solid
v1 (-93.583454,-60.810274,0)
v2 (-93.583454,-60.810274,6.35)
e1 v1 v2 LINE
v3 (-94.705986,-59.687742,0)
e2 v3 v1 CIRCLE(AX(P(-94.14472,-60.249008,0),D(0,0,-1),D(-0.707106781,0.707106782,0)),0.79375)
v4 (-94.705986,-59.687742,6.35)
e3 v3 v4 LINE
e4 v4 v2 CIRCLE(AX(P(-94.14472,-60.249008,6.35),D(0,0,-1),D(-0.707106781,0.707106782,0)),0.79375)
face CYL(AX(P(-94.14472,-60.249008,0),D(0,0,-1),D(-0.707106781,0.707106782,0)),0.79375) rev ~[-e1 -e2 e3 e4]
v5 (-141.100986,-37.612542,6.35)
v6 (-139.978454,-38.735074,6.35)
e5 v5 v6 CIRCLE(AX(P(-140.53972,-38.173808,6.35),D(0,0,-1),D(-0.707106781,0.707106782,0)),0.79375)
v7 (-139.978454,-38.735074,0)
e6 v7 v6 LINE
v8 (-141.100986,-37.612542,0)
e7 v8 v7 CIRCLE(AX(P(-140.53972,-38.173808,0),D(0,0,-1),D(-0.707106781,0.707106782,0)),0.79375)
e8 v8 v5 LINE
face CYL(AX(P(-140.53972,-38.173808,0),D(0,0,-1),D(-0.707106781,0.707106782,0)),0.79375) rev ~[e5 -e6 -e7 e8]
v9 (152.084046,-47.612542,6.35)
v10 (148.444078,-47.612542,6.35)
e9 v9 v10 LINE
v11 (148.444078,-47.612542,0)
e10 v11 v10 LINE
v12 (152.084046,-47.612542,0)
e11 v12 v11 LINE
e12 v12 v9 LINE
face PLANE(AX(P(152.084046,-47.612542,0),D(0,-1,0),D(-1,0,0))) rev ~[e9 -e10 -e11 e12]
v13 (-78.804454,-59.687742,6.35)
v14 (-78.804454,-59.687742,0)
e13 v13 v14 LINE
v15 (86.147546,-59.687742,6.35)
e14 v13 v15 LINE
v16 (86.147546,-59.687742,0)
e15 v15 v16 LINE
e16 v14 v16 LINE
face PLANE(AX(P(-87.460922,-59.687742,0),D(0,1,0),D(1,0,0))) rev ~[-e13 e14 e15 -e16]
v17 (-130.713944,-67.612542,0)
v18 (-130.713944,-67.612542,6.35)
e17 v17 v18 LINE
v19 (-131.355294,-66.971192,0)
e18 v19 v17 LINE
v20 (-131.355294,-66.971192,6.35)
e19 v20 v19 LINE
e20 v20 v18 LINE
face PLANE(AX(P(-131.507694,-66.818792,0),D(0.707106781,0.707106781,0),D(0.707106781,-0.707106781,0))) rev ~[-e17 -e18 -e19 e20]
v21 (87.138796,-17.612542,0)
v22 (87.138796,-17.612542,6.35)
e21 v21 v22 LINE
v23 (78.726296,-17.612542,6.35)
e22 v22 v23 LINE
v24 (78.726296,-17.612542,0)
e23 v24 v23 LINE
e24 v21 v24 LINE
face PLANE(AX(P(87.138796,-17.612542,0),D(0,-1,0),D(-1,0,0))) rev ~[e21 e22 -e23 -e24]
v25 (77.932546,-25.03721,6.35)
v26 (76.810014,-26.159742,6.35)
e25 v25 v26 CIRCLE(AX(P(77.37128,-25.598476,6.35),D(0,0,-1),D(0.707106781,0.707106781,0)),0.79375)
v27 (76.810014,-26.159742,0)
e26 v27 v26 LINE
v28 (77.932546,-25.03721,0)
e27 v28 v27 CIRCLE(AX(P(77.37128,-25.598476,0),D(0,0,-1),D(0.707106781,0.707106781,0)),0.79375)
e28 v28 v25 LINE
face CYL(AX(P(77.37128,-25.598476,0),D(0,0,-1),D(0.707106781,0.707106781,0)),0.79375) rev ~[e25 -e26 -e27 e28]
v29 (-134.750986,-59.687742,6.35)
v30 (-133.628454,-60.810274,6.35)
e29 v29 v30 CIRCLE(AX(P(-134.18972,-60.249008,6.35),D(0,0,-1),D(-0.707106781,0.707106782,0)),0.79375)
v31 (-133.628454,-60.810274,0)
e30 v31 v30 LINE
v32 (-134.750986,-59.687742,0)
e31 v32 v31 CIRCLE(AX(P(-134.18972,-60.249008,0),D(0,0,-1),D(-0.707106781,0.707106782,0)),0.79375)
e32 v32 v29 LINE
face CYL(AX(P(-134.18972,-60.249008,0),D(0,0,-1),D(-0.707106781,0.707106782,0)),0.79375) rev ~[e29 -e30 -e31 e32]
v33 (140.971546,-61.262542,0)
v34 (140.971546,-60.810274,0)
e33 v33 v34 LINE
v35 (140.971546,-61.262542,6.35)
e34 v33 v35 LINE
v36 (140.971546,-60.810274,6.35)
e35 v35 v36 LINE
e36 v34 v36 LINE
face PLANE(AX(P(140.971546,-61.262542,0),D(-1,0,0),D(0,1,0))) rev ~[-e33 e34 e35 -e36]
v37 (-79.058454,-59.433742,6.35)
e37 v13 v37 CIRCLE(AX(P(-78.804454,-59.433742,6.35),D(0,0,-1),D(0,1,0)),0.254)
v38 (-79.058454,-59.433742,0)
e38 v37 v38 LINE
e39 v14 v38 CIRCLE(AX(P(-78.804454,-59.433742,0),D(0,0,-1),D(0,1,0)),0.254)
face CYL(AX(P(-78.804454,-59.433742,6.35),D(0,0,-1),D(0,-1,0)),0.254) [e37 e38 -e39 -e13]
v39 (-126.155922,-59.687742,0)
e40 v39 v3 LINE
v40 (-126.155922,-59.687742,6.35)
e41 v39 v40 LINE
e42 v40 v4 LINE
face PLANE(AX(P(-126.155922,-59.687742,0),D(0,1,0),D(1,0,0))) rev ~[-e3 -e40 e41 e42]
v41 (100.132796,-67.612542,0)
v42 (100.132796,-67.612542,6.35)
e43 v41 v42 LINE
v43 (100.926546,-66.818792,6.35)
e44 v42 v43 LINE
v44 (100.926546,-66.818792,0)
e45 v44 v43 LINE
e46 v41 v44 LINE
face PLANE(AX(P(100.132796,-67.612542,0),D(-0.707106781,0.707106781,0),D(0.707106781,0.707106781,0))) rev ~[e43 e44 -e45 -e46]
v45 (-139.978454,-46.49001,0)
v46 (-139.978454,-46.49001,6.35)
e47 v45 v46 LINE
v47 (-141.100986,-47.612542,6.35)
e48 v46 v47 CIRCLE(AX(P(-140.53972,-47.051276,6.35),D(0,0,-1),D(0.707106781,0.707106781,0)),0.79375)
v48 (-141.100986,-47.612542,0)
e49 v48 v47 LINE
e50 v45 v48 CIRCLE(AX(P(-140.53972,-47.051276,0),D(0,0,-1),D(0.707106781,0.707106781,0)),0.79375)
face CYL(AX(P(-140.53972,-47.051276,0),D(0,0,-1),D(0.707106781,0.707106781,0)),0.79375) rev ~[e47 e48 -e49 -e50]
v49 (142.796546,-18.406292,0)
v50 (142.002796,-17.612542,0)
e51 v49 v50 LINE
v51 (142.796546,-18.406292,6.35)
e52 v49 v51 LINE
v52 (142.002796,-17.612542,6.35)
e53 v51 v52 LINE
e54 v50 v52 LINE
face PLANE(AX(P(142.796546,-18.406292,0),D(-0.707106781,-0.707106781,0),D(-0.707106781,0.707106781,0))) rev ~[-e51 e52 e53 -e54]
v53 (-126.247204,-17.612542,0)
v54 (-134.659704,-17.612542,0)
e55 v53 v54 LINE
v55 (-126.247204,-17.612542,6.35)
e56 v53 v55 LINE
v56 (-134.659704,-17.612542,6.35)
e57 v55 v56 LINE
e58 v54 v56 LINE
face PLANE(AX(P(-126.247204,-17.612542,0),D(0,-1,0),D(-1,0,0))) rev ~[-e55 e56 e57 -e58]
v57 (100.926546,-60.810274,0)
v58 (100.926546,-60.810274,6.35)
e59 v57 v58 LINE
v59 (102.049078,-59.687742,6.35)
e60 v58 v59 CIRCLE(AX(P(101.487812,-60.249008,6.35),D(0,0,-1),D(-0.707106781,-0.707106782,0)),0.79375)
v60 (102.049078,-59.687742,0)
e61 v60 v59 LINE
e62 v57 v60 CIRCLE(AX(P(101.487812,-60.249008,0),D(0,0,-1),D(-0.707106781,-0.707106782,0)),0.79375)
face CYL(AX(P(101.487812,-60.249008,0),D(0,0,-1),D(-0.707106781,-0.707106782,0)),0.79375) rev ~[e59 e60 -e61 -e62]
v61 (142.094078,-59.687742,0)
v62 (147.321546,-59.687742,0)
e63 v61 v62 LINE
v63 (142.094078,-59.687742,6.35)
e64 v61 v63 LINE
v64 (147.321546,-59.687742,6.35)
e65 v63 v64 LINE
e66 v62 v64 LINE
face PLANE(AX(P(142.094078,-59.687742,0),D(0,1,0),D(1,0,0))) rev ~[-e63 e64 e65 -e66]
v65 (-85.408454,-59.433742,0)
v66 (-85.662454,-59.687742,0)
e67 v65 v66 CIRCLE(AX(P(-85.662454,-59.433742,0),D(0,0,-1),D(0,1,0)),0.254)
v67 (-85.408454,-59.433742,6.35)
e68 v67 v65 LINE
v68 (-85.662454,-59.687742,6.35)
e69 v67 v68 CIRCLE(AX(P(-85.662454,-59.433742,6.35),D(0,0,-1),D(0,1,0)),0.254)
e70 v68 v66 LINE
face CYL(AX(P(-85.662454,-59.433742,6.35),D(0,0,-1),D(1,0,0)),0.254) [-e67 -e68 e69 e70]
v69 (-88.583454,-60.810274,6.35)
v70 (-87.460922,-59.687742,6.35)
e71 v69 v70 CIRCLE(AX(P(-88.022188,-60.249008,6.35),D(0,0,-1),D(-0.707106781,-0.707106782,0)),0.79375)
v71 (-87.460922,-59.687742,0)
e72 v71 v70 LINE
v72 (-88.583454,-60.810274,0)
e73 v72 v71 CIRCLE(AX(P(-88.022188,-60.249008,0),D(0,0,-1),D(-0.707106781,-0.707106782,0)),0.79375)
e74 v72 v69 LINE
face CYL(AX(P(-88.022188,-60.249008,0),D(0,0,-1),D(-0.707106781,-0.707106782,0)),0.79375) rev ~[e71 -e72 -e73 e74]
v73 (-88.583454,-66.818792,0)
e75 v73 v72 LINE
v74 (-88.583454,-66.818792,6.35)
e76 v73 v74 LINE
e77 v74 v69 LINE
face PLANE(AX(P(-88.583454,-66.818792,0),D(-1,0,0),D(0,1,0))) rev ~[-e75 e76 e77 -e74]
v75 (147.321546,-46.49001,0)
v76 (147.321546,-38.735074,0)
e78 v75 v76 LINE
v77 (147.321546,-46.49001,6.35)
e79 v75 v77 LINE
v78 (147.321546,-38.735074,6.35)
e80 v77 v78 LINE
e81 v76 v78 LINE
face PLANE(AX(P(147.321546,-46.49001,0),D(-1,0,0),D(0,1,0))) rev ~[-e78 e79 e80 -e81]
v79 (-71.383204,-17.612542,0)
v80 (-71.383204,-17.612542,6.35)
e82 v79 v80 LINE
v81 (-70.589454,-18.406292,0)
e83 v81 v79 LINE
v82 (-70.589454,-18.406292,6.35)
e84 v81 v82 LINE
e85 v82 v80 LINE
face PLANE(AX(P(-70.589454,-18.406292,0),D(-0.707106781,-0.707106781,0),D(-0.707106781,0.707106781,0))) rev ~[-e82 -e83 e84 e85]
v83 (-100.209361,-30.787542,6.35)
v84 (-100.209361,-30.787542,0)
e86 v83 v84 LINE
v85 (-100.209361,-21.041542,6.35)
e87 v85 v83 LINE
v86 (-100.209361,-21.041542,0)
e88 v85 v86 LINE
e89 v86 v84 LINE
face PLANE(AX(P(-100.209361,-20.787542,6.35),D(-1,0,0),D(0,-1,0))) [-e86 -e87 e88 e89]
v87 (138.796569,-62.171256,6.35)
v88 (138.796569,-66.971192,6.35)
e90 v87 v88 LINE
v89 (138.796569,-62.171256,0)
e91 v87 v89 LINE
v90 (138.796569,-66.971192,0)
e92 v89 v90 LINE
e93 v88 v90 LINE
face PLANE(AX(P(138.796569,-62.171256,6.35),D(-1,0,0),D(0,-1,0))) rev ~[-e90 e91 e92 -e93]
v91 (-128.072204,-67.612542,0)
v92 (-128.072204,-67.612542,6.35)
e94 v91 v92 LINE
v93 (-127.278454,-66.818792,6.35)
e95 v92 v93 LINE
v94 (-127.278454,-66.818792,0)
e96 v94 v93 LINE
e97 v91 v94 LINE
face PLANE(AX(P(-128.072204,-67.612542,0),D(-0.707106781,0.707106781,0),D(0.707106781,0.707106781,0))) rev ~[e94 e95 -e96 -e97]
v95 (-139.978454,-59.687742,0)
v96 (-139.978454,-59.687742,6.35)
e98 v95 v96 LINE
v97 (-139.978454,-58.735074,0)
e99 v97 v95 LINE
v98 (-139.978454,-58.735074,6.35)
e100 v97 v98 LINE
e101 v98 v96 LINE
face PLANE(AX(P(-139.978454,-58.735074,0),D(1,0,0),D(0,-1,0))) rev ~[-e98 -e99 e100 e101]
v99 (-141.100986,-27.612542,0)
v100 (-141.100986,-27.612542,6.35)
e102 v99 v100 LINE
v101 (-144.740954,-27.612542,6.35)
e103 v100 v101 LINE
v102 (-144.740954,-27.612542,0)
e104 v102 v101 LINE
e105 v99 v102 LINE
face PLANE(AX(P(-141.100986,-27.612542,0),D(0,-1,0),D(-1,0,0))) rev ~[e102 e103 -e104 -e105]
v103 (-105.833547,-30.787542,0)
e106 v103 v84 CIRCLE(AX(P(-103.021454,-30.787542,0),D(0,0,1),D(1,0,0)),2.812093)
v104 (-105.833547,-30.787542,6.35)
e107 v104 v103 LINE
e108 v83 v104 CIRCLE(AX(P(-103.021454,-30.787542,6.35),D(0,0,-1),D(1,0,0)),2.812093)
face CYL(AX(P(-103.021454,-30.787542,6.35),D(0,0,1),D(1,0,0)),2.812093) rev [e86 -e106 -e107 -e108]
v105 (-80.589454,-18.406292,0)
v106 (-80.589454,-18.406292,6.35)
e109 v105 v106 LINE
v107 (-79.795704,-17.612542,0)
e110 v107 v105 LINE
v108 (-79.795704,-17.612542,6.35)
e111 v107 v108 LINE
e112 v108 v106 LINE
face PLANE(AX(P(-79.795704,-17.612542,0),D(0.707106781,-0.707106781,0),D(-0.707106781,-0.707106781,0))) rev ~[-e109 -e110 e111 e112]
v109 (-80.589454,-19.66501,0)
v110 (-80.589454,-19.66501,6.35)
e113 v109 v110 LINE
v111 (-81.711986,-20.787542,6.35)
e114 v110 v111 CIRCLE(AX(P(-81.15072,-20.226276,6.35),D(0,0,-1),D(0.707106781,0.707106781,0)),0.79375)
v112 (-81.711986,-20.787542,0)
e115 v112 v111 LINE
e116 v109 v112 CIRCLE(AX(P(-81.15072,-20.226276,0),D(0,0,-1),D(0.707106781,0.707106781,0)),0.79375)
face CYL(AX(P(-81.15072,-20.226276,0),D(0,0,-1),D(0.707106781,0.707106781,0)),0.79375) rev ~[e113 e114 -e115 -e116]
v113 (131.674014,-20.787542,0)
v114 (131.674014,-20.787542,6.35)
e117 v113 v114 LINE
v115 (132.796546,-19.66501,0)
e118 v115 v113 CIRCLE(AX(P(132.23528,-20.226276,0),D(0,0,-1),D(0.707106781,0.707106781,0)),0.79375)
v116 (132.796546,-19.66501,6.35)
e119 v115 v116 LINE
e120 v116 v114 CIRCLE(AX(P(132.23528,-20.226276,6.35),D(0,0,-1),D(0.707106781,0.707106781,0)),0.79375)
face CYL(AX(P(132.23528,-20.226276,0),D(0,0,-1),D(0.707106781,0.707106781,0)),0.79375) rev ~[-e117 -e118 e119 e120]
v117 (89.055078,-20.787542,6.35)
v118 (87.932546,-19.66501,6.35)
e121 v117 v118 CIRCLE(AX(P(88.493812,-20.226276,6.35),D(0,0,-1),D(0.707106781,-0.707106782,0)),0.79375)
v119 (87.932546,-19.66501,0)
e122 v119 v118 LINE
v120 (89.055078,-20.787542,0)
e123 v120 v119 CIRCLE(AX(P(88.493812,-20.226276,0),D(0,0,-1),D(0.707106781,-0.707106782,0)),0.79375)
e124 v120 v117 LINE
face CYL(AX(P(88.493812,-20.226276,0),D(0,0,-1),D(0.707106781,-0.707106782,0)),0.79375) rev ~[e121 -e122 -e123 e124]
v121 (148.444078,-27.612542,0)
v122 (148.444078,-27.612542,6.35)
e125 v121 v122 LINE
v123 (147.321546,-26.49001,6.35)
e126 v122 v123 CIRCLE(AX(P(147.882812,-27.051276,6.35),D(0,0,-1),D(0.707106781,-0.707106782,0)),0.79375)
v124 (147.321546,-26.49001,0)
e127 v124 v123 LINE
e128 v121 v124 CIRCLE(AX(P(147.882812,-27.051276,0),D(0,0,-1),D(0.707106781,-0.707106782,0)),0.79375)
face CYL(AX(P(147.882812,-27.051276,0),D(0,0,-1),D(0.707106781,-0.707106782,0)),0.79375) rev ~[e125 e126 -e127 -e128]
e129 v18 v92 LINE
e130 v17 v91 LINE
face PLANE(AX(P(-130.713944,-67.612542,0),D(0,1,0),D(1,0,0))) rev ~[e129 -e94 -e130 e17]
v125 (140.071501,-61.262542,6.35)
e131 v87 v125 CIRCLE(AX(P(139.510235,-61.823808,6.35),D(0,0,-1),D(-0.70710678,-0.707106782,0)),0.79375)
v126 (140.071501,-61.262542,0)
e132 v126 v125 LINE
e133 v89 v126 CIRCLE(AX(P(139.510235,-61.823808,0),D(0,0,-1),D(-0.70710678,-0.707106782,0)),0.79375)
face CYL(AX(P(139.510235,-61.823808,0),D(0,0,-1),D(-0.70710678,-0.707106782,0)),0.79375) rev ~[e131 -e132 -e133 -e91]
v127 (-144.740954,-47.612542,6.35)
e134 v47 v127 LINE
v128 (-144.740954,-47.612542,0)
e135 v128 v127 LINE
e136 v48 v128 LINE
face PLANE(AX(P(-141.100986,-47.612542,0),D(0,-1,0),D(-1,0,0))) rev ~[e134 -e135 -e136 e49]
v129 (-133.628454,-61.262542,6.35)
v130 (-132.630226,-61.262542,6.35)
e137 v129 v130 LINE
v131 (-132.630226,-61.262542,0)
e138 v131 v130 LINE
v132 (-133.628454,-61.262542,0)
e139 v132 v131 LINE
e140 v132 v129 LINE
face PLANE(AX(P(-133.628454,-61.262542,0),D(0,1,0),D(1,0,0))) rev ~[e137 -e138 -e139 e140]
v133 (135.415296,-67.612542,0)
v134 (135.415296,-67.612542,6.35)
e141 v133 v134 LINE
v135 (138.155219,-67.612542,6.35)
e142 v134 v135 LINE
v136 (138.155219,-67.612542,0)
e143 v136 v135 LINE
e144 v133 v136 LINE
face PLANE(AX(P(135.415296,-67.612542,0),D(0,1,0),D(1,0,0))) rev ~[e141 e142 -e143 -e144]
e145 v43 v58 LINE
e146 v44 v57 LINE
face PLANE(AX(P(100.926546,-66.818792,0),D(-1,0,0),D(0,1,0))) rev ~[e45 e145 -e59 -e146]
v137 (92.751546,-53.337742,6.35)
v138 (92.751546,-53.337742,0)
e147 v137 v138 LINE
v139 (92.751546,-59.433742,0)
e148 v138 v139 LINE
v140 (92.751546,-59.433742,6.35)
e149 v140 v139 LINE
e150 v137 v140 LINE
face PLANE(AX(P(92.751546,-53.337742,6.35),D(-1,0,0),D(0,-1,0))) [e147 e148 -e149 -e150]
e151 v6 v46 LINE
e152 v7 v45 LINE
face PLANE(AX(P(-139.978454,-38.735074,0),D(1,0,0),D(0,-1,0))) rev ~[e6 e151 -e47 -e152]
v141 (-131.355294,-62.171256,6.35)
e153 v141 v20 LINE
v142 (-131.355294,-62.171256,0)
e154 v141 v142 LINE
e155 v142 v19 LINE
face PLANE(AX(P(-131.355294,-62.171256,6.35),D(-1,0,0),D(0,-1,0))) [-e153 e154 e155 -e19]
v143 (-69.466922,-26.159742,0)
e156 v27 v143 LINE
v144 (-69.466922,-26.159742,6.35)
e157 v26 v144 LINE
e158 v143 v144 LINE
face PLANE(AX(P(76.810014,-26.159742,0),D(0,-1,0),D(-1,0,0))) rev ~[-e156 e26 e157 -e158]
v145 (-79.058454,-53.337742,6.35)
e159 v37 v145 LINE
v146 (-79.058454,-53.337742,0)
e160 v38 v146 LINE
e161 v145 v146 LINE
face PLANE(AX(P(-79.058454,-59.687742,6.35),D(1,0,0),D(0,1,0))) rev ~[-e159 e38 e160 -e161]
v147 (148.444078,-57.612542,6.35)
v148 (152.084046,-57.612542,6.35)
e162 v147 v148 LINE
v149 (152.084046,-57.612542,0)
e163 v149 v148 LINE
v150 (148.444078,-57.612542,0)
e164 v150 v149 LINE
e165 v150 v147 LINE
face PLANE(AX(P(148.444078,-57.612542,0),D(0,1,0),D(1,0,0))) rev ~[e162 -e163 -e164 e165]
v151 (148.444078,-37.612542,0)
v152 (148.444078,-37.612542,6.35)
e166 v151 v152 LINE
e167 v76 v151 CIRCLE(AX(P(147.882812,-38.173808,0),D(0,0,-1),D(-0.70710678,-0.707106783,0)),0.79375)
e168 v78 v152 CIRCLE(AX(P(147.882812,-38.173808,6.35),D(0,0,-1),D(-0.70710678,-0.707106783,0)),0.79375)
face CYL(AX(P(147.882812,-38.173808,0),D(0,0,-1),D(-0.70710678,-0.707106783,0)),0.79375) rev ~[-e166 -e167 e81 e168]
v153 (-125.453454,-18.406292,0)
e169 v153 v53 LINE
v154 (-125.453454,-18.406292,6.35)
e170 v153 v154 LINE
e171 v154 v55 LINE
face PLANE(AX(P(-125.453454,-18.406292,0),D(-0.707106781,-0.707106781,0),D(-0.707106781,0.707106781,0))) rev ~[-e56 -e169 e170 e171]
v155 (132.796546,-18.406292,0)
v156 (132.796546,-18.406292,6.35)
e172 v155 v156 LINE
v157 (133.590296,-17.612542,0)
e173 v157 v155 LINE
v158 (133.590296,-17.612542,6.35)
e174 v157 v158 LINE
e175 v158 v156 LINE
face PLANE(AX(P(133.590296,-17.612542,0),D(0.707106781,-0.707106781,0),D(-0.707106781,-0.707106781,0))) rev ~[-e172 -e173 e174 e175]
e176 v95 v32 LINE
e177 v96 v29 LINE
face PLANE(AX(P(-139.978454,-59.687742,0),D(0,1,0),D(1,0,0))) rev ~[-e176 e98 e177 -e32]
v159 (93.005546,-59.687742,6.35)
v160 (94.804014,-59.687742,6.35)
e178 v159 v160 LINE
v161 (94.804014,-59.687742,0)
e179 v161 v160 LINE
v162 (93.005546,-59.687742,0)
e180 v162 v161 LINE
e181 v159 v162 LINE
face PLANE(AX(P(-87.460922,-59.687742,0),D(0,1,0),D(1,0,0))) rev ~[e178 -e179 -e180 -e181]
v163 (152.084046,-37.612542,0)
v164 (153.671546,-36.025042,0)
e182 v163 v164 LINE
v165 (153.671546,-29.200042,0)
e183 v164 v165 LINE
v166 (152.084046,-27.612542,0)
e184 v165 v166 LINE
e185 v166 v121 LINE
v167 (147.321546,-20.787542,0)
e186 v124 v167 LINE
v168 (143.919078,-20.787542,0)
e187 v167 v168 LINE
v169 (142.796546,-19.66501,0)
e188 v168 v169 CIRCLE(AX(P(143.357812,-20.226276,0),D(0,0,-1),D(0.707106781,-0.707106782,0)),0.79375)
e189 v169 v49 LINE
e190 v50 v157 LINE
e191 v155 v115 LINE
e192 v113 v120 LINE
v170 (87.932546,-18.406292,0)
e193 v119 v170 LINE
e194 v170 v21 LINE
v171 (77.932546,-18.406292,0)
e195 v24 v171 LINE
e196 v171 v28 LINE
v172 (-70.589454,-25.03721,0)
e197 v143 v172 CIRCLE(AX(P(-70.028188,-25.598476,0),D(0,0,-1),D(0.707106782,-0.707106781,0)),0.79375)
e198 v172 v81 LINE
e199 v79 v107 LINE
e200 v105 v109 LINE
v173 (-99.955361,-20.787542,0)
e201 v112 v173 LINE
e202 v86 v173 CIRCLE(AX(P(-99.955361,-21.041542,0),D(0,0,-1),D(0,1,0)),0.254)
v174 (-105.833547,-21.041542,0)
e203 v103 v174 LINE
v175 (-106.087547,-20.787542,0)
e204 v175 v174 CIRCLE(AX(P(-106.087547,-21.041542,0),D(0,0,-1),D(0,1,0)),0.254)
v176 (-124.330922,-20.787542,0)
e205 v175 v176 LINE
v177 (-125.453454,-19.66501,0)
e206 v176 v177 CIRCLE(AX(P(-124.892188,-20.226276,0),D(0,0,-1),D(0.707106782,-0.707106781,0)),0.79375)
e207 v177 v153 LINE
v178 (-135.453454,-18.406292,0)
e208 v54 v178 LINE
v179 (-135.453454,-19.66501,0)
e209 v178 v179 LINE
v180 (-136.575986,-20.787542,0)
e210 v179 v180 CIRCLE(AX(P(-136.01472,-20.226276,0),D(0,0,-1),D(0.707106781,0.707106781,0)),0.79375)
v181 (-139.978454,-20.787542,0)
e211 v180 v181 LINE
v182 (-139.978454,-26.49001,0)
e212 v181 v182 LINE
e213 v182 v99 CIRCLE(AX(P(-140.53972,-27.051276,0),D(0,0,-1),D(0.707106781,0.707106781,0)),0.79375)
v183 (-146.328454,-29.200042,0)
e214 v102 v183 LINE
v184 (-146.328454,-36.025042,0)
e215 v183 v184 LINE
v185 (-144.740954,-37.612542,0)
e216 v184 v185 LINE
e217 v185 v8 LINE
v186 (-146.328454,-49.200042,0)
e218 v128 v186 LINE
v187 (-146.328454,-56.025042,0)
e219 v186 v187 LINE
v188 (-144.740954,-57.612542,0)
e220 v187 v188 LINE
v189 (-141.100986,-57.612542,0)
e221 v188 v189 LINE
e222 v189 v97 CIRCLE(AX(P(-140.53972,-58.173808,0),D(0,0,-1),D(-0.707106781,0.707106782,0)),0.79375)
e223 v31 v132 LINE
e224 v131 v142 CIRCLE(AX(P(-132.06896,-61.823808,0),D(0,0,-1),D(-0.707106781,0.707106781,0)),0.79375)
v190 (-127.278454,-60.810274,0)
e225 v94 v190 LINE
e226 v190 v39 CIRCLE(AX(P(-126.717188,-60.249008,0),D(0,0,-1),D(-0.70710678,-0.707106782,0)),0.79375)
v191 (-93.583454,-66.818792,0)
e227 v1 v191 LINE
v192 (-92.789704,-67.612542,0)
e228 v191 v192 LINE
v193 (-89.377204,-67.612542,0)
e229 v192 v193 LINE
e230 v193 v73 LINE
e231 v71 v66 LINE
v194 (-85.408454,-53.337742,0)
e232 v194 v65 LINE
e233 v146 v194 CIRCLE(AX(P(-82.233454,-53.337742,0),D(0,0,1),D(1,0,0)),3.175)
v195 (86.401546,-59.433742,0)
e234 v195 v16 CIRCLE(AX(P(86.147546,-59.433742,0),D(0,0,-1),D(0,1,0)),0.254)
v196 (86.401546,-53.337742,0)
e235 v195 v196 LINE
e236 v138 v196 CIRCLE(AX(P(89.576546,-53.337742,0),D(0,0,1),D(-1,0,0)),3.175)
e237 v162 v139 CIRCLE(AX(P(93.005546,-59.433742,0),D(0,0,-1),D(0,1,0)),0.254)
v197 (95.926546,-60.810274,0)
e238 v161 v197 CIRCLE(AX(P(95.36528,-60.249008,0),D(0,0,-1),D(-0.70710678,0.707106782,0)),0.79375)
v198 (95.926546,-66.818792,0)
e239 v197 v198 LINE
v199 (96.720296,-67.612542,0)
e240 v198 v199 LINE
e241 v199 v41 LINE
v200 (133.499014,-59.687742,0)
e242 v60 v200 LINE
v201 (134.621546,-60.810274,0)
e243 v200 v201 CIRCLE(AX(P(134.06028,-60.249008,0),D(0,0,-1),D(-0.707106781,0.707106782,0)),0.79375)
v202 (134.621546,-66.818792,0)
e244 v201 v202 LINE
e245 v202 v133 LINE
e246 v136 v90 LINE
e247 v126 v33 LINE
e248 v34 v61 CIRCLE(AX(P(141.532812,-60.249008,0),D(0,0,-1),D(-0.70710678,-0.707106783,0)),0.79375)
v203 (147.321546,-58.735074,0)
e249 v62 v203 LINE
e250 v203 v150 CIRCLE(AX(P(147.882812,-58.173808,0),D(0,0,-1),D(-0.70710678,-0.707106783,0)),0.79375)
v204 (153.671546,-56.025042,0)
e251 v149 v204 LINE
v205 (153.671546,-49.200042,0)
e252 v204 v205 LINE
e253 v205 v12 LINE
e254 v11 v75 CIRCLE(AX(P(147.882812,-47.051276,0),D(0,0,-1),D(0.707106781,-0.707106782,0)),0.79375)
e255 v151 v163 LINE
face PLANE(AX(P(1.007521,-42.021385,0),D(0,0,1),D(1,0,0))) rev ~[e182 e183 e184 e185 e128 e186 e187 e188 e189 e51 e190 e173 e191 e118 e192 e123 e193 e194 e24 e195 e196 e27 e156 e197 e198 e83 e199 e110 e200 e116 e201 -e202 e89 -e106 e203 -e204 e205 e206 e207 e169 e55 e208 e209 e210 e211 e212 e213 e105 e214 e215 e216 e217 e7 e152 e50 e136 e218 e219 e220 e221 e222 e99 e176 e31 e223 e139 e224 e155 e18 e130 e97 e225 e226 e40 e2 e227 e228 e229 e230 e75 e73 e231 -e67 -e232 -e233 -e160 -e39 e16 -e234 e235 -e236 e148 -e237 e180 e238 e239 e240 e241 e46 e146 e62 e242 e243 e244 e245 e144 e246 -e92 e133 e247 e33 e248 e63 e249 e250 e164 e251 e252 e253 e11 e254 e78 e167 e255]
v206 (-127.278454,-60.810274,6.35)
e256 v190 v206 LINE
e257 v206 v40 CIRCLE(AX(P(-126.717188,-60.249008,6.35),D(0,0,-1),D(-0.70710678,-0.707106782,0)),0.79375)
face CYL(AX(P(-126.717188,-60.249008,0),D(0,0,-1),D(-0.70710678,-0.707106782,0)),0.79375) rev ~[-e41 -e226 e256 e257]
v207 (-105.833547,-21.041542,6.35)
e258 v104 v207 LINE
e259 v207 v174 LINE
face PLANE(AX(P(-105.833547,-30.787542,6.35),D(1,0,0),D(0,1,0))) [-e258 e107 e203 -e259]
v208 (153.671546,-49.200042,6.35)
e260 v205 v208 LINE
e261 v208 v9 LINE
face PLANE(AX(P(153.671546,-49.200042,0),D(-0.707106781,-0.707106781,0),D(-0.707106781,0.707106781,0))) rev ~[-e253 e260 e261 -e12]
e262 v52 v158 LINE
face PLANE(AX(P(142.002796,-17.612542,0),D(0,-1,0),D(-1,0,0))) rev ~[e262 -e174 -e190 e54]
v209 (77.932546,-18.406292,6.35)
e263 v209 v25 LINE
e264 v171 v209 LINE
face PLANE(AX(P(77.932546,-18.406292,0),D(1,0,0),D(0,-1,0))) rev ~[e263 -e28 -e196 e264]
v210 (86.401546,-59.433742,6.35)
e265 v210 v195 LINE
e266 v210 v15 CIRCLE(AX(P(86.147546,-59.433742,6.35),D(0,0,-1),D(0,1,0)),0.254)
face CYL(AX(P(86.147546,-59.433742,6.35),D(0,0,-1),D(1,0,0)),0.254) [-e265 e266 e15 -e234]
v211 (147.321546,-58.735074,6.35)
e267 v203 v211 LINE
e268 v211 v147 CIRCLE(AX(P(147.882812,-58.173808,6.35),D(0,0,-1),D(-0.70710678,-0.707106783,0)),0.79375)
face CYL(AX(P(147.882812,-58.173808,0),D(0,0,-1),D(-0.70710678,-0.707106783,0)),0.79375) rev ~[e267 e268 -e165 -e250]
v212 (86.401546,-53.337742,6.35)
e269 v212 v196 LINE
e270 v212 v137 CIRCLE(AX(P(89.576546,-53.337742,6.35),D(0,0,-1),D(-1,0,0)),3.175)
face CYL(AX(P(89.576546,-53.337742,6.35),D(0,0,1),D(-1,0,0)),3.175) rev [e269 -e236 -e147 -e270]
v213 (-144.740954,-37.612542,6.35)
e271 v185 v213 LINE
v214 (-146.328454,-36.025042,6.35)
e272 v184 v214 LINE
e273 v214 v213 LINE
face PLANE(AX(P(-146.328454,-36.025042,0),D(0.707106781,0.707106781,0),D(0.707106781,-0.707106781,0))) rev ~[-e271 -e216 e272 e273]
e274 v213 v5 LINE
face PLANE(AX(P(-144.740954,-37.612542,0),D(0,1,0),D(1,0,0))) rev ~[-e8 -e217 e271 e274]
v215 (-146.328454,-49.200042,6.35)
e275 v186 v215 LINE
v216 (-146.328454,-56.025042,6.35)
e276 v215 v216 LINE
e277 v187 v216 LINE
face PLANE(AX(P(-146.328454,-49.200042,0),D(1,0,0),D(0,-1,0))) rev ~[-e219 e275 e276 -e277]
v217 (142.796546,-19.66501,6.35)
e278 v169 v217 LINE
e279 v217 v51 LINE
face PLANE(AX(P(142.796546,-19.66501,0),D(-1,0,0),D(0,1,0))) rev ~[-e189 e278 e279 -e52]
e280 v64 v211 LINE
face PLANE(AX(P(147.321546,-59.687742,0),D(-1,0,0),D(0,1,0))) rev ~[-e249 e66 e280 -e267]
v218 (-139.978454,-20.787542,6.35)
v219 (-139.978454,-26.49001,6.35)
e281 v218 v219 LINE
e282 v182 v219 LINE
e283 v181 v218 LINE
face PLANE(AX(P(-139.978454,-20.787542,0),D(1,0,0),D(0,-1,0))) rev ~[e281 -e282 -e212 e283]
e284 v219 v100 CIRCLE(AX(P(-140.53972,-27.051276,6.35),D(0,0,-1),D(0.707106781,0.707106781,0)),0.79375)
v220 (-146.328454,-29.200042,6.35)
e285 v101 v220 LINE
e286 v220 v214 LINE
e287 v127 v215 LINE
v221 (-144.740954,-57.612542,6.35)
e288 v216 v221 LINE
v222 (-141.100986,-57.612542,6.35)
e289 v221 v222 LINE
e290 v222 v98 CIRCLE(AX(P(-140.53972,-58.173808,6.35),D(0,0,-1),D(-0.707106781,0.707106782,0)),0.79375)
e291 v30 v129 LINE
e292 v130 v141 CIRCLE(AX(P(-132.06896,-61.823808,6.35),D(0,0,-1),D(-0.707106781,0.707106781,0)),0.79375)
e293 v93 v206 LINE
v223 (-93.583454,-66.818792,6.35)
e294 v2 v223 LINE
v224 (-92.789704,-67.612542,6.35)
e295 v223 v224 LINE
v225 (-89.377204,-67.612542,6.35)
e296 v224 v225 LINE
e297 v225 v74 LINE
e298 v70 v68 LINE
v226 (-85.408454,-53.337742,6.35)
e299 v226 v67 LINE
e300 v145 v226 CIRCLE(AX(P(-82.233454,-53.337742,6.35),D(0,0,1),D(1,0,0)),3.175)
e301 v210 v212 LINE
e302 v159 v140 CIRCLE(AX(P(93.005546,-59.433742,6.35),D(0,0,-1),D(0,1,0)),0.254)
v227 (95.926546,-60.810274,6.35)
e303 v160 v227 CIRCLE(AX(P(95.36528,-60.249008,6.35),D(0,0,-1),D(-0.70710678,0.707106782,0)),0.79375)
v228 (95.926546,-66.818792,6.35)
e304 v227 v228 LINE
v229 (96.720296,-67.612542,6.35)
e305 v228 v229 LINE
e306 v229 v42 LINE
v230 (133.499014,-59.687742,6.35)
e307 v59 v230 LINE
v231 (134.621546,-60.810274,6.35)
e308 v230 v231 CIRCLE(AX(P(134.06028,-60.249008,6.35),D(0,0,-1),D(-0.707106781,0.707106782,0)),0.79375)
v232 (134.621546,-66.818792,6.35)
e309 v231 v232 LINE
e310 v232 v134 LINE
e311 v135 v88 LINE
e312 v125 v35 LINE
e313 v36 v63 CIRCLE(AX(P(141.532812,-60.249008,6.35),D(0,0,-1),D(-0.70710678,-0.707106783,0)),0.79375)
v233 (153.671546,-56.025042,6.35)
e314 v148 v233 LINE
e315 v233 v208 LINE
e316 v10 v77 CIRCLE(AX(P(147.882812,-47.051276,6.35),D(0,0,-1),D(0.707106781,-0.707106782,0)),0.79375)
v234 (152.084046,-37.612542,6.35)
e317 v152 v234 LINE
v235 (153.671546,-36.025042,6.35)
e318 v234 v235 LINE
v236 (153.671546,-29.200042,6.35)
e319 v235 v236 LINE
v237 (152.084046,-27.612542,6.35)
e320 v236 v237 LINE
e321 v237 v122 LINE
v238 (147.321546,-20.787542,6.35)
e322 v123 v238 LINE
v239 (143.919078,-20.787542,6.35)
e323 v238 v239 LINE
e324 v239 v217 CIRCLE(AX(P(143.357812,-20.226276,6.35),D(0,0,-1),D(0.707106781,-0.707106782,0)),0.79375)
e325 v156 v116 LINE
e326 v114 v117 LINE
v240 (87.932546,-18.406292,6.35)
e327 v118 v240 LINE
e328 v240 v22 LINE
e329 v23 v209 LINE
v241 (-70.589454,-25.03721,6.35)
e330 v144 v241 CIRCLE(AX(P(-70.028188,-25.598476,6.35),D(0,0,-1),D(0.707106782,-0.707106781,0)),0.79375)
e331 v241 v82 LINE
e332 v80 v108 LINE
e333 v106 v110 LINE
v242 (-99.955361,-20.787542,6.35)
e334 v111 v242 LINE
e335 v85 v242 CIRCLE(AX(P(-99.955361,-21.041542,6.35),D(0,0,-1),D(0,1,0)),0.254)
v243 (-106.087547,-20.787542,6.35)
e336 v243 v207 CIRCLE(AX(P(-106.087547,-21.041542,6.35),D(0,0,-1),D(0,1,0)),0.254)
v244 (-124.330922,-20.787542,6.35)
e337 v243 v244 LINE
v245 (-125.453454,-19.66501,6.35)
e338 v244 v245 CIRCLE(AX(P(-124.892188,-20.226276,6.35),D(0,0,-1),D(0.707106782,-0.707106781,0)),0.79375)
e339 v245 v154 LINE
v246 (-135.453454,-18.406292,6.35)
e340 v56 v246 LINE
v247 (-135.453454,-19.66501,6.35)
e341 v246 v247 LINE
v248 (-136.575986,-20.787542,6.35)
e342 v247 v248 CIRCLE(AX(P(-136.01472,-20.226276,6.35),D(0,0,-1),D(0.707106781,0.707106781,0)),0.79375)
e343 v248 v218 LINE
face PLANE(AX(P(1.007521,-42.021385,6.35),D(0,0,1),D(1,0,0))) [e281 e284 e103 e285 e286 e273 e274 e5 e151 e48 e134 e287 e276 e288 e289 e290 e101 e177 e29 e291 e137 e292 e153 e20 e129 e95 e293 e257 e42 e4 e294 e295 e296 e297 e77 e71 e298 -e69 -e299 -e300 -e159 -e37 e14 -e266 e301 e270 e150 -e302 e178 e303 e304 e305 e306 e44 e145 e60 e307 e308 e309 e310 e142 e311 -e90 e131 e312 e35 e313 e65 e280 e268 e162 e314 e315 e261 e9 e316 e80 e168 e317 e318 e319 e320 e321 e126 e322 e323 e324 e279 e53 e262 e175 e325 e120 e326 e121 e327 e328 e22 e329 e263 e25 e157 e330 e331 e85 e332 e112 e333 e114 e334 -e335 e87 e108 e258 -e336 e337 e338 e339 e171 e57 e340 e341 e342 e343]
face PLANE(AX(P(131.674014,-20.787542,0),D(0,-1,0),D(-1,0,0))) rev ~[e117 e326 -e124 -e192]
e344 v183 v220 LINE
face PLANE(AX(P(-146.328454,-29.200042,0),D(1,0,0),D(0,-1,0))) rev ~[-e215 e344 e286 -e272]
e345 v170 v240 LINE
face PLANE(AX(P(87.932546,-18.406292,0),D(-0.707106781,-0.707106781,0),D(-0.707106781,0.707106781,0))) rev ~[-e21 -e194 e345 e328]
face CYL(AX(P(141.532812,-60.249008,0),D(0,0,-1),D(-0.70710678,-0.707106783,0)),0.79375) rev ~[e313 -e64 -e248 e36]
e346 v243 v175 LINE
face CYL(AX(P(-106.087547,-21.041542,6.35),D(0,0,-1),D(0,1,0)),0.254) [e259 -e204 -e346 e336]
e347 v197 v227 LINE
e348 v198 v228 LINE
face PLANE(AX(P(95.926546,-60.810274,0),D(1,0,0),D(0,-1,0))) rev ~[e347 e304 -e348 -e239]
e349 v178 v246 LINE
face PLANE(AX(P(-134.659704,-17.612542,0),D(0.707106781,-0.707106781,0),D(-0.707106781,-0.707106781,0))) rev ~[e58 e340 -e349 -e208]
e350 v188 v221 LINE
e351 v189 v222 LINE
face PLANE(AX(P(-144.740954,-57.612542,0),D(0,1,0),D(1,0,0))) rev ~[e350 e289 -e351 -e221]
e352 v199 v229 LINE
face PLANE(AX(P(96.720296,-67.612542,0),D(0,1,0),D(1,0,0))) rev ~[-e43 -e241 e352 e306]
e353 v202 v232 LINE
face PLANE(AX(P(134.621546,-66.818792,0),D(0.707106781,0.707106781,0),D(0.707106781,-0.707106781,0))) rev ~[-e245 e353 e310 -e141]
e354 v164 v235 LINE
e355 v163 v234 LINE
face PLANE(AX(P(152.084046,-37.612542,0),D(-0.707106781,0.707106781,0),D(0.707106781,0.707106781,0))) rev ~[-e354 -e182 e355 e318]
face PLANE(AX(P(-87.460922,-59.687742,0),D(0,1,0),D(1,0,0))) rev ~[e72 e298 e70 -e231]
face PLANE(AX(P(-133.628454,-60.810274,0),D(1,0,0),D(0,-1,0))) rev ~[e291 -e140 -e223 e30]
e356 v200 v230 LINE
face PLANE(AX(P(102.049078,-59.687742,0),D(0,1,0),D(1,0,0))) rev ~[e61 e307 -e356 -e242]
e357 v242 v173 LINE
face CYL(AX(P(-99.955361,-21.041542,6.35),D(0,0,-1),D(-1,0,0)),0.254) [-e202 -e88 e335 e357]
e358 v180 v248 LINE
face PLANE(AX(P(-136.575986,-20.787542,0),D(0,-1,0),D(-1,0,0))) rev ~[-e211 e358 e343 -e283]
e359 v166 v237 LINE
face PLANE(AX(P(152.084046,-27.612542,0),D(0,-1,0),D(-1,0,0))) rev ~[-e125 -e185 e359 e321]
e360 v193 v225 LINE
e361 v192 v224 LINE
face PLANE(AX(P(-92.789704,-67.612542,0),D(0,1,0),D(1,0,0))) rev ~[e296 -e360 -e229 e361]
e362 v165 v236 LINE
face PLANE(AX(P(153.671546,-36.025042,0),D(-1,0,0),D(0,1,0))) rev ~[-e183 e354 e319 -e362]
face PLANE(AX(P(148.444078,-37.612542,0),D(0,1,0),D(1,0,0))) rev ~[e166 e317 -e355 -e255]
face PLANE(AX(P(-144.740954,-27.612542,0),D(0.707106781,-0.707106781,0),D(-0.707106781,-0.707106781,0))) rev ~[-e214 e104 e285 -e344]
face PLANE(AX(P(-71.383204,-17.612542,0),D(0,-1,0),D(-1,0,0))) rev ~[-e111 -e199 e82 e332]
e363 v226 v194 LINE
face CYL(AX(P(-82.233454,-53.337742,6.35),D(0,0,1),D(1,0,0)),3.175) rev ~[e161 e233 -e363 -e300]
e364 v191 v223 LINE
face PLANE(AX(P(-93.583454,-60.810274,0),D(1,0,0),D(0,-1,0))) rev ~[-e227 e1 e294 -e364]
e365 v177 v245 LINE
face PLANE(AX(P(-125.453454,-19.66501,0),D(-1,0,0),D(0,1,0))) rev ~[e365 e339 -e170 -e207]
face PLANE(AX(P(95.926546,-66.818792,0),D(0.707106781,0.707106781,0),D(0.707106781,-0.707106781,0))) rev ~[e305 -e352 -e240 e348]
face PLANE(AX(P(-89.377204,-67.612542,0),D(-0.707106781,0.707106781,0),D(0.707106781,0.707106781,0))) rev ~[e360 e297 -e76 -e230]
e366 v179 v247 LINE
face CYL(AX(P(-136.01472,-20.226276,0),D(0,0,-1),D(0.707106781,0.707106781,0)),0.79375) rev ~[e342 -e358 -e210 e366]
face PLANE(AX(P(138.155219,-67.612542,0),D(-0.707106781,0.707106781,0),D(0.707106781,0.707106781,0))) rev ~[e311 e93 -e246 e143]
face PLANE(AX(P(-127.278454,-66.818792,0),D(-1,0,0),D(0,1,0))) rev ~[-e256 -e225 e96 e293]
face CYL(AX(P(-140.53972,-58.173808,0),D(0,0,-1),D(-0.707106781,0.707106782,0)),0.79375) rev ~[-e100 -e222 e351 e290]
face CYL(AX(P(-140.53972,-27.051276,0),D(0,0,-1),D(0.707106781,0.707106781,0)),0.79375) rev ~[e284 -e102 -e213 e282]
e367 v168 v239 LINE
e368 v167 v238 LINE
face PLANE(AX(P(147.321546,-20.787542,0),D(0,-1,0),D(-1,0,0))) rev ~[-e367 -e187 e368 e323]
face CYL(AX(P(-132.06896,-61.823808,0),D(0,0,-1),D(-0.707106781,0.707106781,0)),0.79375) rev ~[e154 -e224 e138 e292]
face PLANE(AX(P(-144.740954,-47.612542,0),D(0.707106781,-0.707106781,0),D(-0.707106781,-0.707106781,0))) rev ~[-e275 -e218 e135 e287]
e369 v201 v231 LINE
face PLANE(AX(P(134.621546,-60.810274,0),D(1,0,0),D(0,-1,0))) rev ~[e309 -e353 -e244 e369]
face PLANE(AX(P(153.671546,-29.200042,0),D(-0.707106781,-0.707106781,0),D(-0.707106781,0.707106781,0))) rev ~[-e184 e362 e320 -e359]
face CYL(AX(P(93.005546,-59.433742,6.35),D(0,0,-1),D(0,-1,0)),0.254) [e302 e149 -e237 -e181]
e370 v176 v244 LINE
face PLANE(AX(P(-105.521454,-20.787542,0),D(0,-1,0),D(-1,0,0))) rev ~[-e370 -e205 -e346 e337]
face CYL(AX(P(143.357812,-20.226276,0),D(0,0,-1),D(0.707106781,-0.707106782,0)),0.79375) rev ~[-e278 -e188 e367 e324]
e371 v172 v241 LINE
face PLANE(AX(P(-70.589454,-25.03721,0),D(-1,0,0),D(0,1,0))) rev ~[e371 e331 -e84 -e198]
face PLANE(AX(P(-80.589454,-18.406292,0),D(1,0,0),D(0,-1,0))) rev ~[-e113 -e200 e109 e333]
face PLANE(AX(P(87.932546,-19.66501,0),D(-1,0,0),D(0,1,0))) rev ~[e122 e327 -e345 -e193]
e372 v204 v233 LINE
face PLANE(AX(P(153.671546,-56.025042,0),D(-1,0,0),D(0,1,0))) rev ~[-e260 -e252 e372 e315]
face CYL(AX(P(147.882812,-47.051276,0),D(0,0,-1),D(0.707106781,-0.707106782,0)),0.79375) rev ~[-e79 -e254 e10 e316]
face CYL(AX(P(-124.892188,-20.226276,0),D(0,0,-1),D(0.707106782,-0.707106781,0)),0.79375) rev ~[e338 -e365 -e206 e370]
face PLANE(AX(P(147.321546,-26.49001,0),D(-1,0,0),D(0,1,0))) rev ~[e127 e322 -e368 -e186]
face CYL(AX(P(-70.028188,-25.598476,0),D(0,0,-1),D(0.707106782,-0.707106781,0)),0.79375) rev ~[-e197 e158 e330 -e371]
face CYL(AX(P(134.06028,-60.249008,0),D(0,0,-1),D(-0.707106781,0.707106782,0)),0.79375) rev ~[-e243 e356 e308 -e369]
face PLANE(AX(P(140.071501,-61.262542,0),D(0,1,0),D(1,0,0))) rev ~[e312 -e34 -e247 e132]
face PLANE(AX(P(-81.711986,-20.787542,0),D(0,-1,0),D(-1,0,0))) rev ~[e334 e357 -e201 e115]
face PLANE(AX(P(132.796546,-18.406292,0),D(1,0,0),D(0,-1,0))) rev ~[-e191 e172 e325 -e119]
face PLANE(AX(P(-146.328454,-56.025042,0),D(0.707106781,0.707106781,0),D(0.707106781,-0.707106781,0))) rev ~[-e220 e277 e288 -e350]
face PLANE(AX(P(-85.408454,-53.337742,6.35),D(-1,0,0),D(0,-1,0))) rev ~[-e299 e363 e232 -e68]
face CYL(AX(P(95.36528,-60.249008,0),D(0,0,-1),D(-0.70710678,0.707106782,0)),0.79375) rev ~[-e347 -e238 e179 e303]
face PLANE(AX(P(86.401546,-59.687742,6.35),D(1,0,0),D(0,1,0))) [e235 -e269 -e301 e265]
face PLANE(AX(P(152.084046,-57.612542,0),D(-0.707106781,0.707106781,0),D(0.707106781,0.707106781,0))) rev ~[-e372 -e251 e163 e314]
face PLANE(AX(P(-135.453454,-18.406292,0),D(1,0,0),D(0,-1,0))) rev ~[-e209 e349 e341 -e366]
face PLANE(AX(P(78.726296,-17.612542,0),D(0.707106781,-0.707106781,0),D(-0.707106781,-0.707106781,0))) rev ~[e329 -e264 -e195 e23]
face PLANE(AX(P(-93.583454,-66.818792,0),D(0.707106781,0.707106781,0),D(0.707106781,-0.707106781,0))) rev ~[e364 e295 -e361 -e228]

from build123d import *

# Parameters (mm, degrees)
BOSS_EXTRUDE1_DEPTH = 6.35
CUT_EXTRUDE2_DEPTH  = 169.008101823
CUT_EXTRUDE3_DEPTH  = 169.008101823
CUT_EXTRUDE4_DEPTH  = 169.008101823
FILLET1_R           = 0.254


with BuildPart() as part:
    # Model → Boss-Extrude1 (new body)
    with BuildSketch(Plane.XY):
        with BuildLine():
            Line((138.15521867, -67.612541882), (138.94896867, -66.818791882))
            Line((138.94896867, -66.818791882), (138.94896867, -62.385073899))
            ThreePointArc((138.94896867, -62.385073899), (138.948968669, -61.262541883), (140.071500684, -61.262541882))
            Line((140.071500684, -61.262541882), (140.971545702, -61.262541882))
            Line((140.971545702, -61.262541882), (140.971545702, -60.810273899))
            ThreePointArc((140.971545702, -60.810273899), (140.9715457, -59.687741883), (142.094077716, -59.687741882))
            Line((142.094077716, -59.687741882), (147.321545702, -59.687741882))
            Line((147.321545702, -59.687741882), (147.321545702, -58.735073899))
            ThreePointArc((147.321545702, -58.735073899), (147.3215457, -57.612541883), (148.444077716, -57.612541882))
            Line((148.444077716, -57.612541882), (152.084045702, -57.612541882))
            Line((152.084045702, -57.612541882), (153.671545702, -56.025041882))
            Line((153.671545702, -56.025041882), (153.671545702, -49.200041882))
            Line((153.671545702, -49.200041882), (152.084045702, -47.612541882))
            Line((152.084045702, -47.612541882), (148.444077716, -47.612541882))
            ThreePointArc((148.444077716, -47.612541882), (147.321545702, -47.612541882), (147.321545702, -46.490009867))
            Line((147.321545702, -46.490009867), (147.321545702, -38.735073899))
            ThreePointArc((147.321545702, -38.735073899), (147.3215457, -37.612541883), (148.444077716, -37.612541882))
            Line((148.444077716, -37.612541882), (152.084045702, -37.612541882))
            Line((152.084045702, -37.612541882), (153.671545702, -36.025041882))
            Line((153.671545702, -36.025041882), (153.671545702, -29.200041882))
            Line((153.671545702, -29.200041882), (152.084045702, -27.612541882))
            Line((152.084045702, -27.612541882), (148.444077716, -27.612541882))
            ThreePointArc((148.444077716, -27.612541882), (147.321545702, -27.612541882), (147.321545702, -26.490009867))
            Line((147.321545702, -26.490009867), (147.321545702, -20.787541882))
            Line((147.321545702, -20.787541882), (143.919077716, -20.787541882))
            ThreePointArc((143.919077716, -20.787541882), (142.796545702, -20.787541882), (142.796545702, -19.665009867))
            Line((142.796545702, -19.665009867), (142.796545702, -18.406291882))
            Line((142.796545702, -18.406291882), (142.002795702, -17.612541882))
            Line((142.002795702, -17.612541882), (133.590295702, -17.612541882))
            Line((133.590295702, -17.612541882), (132.796545702, -18.406291882))
            Line((132.796545702, -18.406291882), (132.796545702, -19.665009867))
            ThreePointArc((132.796545702, -19.665009867), (132.796545702, -20.787541882), (131.674013687, -20.787541882))
            Line((131.674013687, -20.787541882), (89.055077716, -20.787541882))
            ThreePointArc((89.055077716, -20.787541882), (87.932545702, -20.787541882), (87.932545702, -19.665009867))
            Line((87.932545702, -19.665009867), (87.932545702, -18.406291882))
            Line((87.932545702, -18.406291882), (87.138795702, -17.612541882))
            Line((87.138795702, -17.612541882), (78.726295702, -17.612541882))
            Line((78.726295702, -17.612541882), (77.932545702, -18.406291882))
            Line((77.932545702, -18.406291882), (77.932545702, -25.037209867))
            ThreePointArc((77.932545702, -25.037209867), (77.932545702, -26.159741882), (76.810013687, -26.159741882))
            Line((76.810013687, -26.159741882), (-69.46692228, -26.159741882))
            ThreePointArc((-69.46692228, -26.159741882), (-70.589454296, -26.159741883), (-70.589454297, -25.037209867))
            Line((-70.589454297, -25.037209867), (-70.589454297, -18.406291882))
            Line((-70.589454297, -18.406291882), (-71.383204297, -17.612541882))
            Line((-71.383204297, -17.612541882), (-79.795704297, -17.612541882))
            Line((-79.795704297, -17.612541882), (-80.589454297, -18.406291882))
            Line((-80.589454297, -18.406291882), (-80.589454297, -19.665009867))
            ThreePointArc((-80.589454297, -19.665009867), (-80.589454297, -20.787541882), (-81.711986312, -20.787541882))
            Line((-81.711986312, -20.787541882), (-100.521454296, -20.787541882))
            Line((-100.521454296, -20.787541882), (-100.521454296, -29.665009867))
            ThreePointArc((-100.521454296, -29.665009867), (-100.521454296, -30.787541882), (-101.64398631, -30.787541882))
            Line((-101.64398631, -30.787541882), (-104.398922281, -30.787541882))
            ThreePointArc((-104.398922281, -30.787541882), (-105.521454296, -30.787541882), (-105.521454296, -29.665009867))
            Line((-105.521454296, -29.665009867), (-105.521454296, -20.787541882))
            Line((-105.521454296, -20.787541882), (-124.33092228, -20.787541882))
            ThreePointArc((-124.33092228, -20.787541882), (-125.453454296, -20.787541883), (-125.453454297, -19.665009867))
            Line((-125.453454297, -19.665009867), (-125.453454297, -18.406291882))
            Line((-125.453454297, -18.406291882), (-126.247204297, -17.612541882))
            Line((-126.247204297, -17.612541882), (-134.659704297, -17.612541882))
            Line((-134.659704297, -17.612541882), (-135.453454297, -18.406291882))
            Line((-135.453454297, -18.406291882), (-135.453454297, -19.665009867))
            ThreePointArc((-135.453454297, -19.665009867), (-135.453454297, -20.787541882), (-136.575986312, -20.787541882))
            Line((-136.575986312, -20.787541882), (-139.978454297, -20.787541882))
            Line((-139.978454297, -20.787541882), (-139.978454297, -26.490009867))
            ThreePointArc((-139.978454297, -26.490009867), (-139.978454297, -27.612541882), (-141.100986312, -27.612541882))
            Line((-141.100986312, -27.612541882), (-144.740954297, -27.612541882))
            Line((-144.740954297, -27.612541882), (-146.328454297, -29.200041882))
            Line((-146.328454297, -29.200041882), (-146.328454297, -36.025041882))
            Line((-146.328454297, -36.025041882), (-144.740954297, -37.612541882))
            Line((-144.740954297, -37.612541882), (-141.100986312, -37.612541882))
            ThreePointArc((-141.100986312, -37.612541882), (-139.978454296, -37.612541883), (-139.978454297, -38.735073899))
            Line((-139.978454297, -38.735073899), (-139.978454297, -46.490009867))
            ThreePointArc((-139.978454297, -46.490009867), (-139.978454297, -47.612541882), (-141.100986312, -47.612541882))
            Line((-141.100986312, -47.612541882), (-144.740954297, -47.612541882))
            Line((-144.740954297, -47.612541882), (-146.328454297, -49.200041882))
            Line((-146.328454297, -49.200041882), (-146.328454297, -56.025041882))
            Line((-146.328454297, -56.025041882), (-144.740954297, -57.612541882))
            Line((-144.740954297, -57.612541882), (-141.100986312, -57.612541882))
            ThreePointArc((-141.100986312, -57.612541882), (-139.978454296, -57.612541883), (-139.978454297, -58.735073899))
            Line((-139.978454297, -58.735073899), (-139.978454297, -59.687741882))
            Line((-139.978454297, -59.687741882), (-134.750986312, -59.687741882))
            ThreePointArc((-134.750986312, -59.687741882), (-133.628454296, -59.687741883), (-133.628454297, -60.810273899))
            Line((-133.628454297, -60.810273899), (-133.628454297, -61.262541882))
            Line((-133.628454297, -61.262541882), (-132.630226339, -61.262541882))
            ThreePointArc((-132.630226339, -61.262541882), (-131.507694322, -61.262541882), (-131.507694322, -62.385073899))
            Line((-131.507694322, -62.385073899), (-131.507694322, -66.818791882))
            Line((-131.507694322, -66.818791882), (-130.713944322, -67.612541882))
            Line((-130.713944322, -67.612541882), (-128.072204297, -67.612541882))
            Line((-128.072204297, -67.612541882), (-127.278454297, -66.818791882))
            Line((-127.278454297, -66.818791882), (-127.278454297, -60.810273899))
            ThreePointArc((-127.278454297, -60.810273899), (-127.278454298, -59.687741883), (-126.155922283, -59.687741882))
            Line((-126.155922283, -59.687741882), (-94.70598631, -59.687741882))
            ThreePointArc((-94.70598631, -59.687741882), (-93.583454294, -59.687741883), (-93.583454296, -60.810273899))
            Line((-93.583454296, -60.810273899), (-93.583454296, -66.818791882))
            Line((-93.583454296, -66.818791882), (-92.789704296, -67.612541882))
            Line((-92.789704296, -67.612541882), (-89.377204296, -67.612541882))
            Line((-89.377204296, -67.612541882), (-88.583454296, -66.818791882))
            Line((-88.583454296, -66.818791882), (-88.583454296, -60.810273899))
            ThreePointArc((-88.583454296, -60.810273899), (-88.583454297, -59.687741883), (-87.460922281, -59.687741882))
            Line((-87.460922281, -59.687741882), (94.804013689, -59.687741882))
            ThreePointArc((94.804013689, -59.687741882), (95.926545704, -59.687741883), (95.926545703, -60.810273899))
            Line((95.926545703, -60.810273899), (95.926545703, -66.818791882))
            Line((95.926545703, -66.818791882), (96.720295703, -67.612541882))
            Line((96.720295703, -67.612541882), (100.132795703, -67.612541882))
            Line((100.132795703, -67.612541882), (100.926545703, -66.818791882))
            Line((100.926545703, -66.818791882), (100.926545703, -60.810273899))
            ThreePointArc((100.926545703, -60.810273899), (100.926545702, -59.687741883), (102.049077718, -59.687741882))
            Line((102.049077718, -59.687741882), (133.499013687, -59.687741882))
            ThreePointArc((133.499013687, -59.687741882), (134.621545703, -59.687741883), (134.621545702, -60.810273899))
            Line((134.621545702, -60.810273899), (134.621545702, -66.818791882))
            Line((134.621545702, -66.818791882), (135.415295702, -67.612541882))
            Line((135.415295702, -67.612541882), (138.15521867, -67.612541882))
        make_face()
    extrude(amount=BOSS_EXTRUDE1_DEPTH)

    # Sketch3 → Cut-Extrude2 (cut, through all)
    with BuildSketch(Plane.XY.offset(6.35)):
        with BuildLine():
            Line((-131.355294322, -62.171255574), (-131.355294322, -66.971191882))
            Line((-131.355294322, -66.971191882), (-131.507694322, -66.818791882))
            Line((-131.507694322, -66.818791882), (-131.507694322, -62.385073899))
            ThreePointArc((-131.507694322, -62.385073899), (-131.422591643, -62.284510162), (-131.355294322, -62.171255574))
        make_face()
        with BuildLine():
            Line((138.79656867, -62.171255574), (138.79656867, -66.971191882))
            Line((138.79656867, -66.971191882), (138.94896867, -66.818791882))
            Line((138.94896867, -66.818791882), (138.94896867, -62.385073899))
            ThreePointArc((138.94896867, -62.385073899), (138.86386599, -62.284510163), (138.79656867, -62.171255574))
        make_face()
    extrude(amount=-CUT_EXTRUDE2_DEPTH, mode=Mode.SUBTRACT)

    # Sketch4 → Cut-Extrude3 (cut, through all)
    with BuildSketch(Plane.XY.offset(6.35)):
        with BuildLine():
            Line((-85.408454296, -59.687741882), (-79.058454296, -59.687741882))
            Line((-79.058454296, -59.687741882), (-79.058454296, -53.337741882))
            ThreePointArc((-79.058454296, -53.337741882), (-82.233454296, -50.162741882), (-85.408454296, -53.337741882))
            Line((-85.408454296, -53.337741882), (-85.408454296, -59.687741882))
        make_face()
        with BuildLine():
            Line((86.4015457, -59.687741882), (86.4015457, -53.337741882))
            ThreePointArc((86.4015457, -53.337741882), (89.5765457, -50.162741882), (92.751545701, -53.337741882))
            Line((92.751545701, -53.337741882), (92.751545701, -59.687741882))
            Line((92.751545701, -59.687741882), (86.4015457, -59.687741882))
        make_face()
    extrude(amount=-CUT_EXTRUDE3_DEPTH, mode=Mode.SUBTRACT)

    # Sketch6 → Cut-Extrude4 (cut, through all)
    with BuildSketch(Plane.XY.offset(6.35)):
        with BuildLine():
            Line((-105.833547434, -30.787541882), (-105.833547434, -20.787541882))
            Line((-105.833547434, -20.787541882), (-100.209361158, -20.787541882))
            Line((-100.209361158, -20.787541882), (-100.209361158, -30.787541882))
            ThreePointArc((-100.209361158, -30.787541882), (-103.021454296, -33.59963502), (-105.833547434, -30.787541882))
        make_face()
    extrude(amount=-CUT_EXTRUDE4_DEPTH, mode=Mode.SUBTRACT)

    # Fillet1
    fillet1_edges = [part.edges().sort_by_distance(p)[0] for p in [
        (-85.408454296, -59.687741882, 3.175),
        (-79.058454296, -59.687741882, 3.175),
        (92.751545701, -59.687741882, 3.175),
        (86.4015457, -59.687741882, 3.175),
        (-105.833547434, -20.787541882, 3.175),
        (-100.209361158, -20.787541882, 3.175),
    ]]
    fillet(fillet1_edges, radius=FILLET1_R)


solid = part.part
